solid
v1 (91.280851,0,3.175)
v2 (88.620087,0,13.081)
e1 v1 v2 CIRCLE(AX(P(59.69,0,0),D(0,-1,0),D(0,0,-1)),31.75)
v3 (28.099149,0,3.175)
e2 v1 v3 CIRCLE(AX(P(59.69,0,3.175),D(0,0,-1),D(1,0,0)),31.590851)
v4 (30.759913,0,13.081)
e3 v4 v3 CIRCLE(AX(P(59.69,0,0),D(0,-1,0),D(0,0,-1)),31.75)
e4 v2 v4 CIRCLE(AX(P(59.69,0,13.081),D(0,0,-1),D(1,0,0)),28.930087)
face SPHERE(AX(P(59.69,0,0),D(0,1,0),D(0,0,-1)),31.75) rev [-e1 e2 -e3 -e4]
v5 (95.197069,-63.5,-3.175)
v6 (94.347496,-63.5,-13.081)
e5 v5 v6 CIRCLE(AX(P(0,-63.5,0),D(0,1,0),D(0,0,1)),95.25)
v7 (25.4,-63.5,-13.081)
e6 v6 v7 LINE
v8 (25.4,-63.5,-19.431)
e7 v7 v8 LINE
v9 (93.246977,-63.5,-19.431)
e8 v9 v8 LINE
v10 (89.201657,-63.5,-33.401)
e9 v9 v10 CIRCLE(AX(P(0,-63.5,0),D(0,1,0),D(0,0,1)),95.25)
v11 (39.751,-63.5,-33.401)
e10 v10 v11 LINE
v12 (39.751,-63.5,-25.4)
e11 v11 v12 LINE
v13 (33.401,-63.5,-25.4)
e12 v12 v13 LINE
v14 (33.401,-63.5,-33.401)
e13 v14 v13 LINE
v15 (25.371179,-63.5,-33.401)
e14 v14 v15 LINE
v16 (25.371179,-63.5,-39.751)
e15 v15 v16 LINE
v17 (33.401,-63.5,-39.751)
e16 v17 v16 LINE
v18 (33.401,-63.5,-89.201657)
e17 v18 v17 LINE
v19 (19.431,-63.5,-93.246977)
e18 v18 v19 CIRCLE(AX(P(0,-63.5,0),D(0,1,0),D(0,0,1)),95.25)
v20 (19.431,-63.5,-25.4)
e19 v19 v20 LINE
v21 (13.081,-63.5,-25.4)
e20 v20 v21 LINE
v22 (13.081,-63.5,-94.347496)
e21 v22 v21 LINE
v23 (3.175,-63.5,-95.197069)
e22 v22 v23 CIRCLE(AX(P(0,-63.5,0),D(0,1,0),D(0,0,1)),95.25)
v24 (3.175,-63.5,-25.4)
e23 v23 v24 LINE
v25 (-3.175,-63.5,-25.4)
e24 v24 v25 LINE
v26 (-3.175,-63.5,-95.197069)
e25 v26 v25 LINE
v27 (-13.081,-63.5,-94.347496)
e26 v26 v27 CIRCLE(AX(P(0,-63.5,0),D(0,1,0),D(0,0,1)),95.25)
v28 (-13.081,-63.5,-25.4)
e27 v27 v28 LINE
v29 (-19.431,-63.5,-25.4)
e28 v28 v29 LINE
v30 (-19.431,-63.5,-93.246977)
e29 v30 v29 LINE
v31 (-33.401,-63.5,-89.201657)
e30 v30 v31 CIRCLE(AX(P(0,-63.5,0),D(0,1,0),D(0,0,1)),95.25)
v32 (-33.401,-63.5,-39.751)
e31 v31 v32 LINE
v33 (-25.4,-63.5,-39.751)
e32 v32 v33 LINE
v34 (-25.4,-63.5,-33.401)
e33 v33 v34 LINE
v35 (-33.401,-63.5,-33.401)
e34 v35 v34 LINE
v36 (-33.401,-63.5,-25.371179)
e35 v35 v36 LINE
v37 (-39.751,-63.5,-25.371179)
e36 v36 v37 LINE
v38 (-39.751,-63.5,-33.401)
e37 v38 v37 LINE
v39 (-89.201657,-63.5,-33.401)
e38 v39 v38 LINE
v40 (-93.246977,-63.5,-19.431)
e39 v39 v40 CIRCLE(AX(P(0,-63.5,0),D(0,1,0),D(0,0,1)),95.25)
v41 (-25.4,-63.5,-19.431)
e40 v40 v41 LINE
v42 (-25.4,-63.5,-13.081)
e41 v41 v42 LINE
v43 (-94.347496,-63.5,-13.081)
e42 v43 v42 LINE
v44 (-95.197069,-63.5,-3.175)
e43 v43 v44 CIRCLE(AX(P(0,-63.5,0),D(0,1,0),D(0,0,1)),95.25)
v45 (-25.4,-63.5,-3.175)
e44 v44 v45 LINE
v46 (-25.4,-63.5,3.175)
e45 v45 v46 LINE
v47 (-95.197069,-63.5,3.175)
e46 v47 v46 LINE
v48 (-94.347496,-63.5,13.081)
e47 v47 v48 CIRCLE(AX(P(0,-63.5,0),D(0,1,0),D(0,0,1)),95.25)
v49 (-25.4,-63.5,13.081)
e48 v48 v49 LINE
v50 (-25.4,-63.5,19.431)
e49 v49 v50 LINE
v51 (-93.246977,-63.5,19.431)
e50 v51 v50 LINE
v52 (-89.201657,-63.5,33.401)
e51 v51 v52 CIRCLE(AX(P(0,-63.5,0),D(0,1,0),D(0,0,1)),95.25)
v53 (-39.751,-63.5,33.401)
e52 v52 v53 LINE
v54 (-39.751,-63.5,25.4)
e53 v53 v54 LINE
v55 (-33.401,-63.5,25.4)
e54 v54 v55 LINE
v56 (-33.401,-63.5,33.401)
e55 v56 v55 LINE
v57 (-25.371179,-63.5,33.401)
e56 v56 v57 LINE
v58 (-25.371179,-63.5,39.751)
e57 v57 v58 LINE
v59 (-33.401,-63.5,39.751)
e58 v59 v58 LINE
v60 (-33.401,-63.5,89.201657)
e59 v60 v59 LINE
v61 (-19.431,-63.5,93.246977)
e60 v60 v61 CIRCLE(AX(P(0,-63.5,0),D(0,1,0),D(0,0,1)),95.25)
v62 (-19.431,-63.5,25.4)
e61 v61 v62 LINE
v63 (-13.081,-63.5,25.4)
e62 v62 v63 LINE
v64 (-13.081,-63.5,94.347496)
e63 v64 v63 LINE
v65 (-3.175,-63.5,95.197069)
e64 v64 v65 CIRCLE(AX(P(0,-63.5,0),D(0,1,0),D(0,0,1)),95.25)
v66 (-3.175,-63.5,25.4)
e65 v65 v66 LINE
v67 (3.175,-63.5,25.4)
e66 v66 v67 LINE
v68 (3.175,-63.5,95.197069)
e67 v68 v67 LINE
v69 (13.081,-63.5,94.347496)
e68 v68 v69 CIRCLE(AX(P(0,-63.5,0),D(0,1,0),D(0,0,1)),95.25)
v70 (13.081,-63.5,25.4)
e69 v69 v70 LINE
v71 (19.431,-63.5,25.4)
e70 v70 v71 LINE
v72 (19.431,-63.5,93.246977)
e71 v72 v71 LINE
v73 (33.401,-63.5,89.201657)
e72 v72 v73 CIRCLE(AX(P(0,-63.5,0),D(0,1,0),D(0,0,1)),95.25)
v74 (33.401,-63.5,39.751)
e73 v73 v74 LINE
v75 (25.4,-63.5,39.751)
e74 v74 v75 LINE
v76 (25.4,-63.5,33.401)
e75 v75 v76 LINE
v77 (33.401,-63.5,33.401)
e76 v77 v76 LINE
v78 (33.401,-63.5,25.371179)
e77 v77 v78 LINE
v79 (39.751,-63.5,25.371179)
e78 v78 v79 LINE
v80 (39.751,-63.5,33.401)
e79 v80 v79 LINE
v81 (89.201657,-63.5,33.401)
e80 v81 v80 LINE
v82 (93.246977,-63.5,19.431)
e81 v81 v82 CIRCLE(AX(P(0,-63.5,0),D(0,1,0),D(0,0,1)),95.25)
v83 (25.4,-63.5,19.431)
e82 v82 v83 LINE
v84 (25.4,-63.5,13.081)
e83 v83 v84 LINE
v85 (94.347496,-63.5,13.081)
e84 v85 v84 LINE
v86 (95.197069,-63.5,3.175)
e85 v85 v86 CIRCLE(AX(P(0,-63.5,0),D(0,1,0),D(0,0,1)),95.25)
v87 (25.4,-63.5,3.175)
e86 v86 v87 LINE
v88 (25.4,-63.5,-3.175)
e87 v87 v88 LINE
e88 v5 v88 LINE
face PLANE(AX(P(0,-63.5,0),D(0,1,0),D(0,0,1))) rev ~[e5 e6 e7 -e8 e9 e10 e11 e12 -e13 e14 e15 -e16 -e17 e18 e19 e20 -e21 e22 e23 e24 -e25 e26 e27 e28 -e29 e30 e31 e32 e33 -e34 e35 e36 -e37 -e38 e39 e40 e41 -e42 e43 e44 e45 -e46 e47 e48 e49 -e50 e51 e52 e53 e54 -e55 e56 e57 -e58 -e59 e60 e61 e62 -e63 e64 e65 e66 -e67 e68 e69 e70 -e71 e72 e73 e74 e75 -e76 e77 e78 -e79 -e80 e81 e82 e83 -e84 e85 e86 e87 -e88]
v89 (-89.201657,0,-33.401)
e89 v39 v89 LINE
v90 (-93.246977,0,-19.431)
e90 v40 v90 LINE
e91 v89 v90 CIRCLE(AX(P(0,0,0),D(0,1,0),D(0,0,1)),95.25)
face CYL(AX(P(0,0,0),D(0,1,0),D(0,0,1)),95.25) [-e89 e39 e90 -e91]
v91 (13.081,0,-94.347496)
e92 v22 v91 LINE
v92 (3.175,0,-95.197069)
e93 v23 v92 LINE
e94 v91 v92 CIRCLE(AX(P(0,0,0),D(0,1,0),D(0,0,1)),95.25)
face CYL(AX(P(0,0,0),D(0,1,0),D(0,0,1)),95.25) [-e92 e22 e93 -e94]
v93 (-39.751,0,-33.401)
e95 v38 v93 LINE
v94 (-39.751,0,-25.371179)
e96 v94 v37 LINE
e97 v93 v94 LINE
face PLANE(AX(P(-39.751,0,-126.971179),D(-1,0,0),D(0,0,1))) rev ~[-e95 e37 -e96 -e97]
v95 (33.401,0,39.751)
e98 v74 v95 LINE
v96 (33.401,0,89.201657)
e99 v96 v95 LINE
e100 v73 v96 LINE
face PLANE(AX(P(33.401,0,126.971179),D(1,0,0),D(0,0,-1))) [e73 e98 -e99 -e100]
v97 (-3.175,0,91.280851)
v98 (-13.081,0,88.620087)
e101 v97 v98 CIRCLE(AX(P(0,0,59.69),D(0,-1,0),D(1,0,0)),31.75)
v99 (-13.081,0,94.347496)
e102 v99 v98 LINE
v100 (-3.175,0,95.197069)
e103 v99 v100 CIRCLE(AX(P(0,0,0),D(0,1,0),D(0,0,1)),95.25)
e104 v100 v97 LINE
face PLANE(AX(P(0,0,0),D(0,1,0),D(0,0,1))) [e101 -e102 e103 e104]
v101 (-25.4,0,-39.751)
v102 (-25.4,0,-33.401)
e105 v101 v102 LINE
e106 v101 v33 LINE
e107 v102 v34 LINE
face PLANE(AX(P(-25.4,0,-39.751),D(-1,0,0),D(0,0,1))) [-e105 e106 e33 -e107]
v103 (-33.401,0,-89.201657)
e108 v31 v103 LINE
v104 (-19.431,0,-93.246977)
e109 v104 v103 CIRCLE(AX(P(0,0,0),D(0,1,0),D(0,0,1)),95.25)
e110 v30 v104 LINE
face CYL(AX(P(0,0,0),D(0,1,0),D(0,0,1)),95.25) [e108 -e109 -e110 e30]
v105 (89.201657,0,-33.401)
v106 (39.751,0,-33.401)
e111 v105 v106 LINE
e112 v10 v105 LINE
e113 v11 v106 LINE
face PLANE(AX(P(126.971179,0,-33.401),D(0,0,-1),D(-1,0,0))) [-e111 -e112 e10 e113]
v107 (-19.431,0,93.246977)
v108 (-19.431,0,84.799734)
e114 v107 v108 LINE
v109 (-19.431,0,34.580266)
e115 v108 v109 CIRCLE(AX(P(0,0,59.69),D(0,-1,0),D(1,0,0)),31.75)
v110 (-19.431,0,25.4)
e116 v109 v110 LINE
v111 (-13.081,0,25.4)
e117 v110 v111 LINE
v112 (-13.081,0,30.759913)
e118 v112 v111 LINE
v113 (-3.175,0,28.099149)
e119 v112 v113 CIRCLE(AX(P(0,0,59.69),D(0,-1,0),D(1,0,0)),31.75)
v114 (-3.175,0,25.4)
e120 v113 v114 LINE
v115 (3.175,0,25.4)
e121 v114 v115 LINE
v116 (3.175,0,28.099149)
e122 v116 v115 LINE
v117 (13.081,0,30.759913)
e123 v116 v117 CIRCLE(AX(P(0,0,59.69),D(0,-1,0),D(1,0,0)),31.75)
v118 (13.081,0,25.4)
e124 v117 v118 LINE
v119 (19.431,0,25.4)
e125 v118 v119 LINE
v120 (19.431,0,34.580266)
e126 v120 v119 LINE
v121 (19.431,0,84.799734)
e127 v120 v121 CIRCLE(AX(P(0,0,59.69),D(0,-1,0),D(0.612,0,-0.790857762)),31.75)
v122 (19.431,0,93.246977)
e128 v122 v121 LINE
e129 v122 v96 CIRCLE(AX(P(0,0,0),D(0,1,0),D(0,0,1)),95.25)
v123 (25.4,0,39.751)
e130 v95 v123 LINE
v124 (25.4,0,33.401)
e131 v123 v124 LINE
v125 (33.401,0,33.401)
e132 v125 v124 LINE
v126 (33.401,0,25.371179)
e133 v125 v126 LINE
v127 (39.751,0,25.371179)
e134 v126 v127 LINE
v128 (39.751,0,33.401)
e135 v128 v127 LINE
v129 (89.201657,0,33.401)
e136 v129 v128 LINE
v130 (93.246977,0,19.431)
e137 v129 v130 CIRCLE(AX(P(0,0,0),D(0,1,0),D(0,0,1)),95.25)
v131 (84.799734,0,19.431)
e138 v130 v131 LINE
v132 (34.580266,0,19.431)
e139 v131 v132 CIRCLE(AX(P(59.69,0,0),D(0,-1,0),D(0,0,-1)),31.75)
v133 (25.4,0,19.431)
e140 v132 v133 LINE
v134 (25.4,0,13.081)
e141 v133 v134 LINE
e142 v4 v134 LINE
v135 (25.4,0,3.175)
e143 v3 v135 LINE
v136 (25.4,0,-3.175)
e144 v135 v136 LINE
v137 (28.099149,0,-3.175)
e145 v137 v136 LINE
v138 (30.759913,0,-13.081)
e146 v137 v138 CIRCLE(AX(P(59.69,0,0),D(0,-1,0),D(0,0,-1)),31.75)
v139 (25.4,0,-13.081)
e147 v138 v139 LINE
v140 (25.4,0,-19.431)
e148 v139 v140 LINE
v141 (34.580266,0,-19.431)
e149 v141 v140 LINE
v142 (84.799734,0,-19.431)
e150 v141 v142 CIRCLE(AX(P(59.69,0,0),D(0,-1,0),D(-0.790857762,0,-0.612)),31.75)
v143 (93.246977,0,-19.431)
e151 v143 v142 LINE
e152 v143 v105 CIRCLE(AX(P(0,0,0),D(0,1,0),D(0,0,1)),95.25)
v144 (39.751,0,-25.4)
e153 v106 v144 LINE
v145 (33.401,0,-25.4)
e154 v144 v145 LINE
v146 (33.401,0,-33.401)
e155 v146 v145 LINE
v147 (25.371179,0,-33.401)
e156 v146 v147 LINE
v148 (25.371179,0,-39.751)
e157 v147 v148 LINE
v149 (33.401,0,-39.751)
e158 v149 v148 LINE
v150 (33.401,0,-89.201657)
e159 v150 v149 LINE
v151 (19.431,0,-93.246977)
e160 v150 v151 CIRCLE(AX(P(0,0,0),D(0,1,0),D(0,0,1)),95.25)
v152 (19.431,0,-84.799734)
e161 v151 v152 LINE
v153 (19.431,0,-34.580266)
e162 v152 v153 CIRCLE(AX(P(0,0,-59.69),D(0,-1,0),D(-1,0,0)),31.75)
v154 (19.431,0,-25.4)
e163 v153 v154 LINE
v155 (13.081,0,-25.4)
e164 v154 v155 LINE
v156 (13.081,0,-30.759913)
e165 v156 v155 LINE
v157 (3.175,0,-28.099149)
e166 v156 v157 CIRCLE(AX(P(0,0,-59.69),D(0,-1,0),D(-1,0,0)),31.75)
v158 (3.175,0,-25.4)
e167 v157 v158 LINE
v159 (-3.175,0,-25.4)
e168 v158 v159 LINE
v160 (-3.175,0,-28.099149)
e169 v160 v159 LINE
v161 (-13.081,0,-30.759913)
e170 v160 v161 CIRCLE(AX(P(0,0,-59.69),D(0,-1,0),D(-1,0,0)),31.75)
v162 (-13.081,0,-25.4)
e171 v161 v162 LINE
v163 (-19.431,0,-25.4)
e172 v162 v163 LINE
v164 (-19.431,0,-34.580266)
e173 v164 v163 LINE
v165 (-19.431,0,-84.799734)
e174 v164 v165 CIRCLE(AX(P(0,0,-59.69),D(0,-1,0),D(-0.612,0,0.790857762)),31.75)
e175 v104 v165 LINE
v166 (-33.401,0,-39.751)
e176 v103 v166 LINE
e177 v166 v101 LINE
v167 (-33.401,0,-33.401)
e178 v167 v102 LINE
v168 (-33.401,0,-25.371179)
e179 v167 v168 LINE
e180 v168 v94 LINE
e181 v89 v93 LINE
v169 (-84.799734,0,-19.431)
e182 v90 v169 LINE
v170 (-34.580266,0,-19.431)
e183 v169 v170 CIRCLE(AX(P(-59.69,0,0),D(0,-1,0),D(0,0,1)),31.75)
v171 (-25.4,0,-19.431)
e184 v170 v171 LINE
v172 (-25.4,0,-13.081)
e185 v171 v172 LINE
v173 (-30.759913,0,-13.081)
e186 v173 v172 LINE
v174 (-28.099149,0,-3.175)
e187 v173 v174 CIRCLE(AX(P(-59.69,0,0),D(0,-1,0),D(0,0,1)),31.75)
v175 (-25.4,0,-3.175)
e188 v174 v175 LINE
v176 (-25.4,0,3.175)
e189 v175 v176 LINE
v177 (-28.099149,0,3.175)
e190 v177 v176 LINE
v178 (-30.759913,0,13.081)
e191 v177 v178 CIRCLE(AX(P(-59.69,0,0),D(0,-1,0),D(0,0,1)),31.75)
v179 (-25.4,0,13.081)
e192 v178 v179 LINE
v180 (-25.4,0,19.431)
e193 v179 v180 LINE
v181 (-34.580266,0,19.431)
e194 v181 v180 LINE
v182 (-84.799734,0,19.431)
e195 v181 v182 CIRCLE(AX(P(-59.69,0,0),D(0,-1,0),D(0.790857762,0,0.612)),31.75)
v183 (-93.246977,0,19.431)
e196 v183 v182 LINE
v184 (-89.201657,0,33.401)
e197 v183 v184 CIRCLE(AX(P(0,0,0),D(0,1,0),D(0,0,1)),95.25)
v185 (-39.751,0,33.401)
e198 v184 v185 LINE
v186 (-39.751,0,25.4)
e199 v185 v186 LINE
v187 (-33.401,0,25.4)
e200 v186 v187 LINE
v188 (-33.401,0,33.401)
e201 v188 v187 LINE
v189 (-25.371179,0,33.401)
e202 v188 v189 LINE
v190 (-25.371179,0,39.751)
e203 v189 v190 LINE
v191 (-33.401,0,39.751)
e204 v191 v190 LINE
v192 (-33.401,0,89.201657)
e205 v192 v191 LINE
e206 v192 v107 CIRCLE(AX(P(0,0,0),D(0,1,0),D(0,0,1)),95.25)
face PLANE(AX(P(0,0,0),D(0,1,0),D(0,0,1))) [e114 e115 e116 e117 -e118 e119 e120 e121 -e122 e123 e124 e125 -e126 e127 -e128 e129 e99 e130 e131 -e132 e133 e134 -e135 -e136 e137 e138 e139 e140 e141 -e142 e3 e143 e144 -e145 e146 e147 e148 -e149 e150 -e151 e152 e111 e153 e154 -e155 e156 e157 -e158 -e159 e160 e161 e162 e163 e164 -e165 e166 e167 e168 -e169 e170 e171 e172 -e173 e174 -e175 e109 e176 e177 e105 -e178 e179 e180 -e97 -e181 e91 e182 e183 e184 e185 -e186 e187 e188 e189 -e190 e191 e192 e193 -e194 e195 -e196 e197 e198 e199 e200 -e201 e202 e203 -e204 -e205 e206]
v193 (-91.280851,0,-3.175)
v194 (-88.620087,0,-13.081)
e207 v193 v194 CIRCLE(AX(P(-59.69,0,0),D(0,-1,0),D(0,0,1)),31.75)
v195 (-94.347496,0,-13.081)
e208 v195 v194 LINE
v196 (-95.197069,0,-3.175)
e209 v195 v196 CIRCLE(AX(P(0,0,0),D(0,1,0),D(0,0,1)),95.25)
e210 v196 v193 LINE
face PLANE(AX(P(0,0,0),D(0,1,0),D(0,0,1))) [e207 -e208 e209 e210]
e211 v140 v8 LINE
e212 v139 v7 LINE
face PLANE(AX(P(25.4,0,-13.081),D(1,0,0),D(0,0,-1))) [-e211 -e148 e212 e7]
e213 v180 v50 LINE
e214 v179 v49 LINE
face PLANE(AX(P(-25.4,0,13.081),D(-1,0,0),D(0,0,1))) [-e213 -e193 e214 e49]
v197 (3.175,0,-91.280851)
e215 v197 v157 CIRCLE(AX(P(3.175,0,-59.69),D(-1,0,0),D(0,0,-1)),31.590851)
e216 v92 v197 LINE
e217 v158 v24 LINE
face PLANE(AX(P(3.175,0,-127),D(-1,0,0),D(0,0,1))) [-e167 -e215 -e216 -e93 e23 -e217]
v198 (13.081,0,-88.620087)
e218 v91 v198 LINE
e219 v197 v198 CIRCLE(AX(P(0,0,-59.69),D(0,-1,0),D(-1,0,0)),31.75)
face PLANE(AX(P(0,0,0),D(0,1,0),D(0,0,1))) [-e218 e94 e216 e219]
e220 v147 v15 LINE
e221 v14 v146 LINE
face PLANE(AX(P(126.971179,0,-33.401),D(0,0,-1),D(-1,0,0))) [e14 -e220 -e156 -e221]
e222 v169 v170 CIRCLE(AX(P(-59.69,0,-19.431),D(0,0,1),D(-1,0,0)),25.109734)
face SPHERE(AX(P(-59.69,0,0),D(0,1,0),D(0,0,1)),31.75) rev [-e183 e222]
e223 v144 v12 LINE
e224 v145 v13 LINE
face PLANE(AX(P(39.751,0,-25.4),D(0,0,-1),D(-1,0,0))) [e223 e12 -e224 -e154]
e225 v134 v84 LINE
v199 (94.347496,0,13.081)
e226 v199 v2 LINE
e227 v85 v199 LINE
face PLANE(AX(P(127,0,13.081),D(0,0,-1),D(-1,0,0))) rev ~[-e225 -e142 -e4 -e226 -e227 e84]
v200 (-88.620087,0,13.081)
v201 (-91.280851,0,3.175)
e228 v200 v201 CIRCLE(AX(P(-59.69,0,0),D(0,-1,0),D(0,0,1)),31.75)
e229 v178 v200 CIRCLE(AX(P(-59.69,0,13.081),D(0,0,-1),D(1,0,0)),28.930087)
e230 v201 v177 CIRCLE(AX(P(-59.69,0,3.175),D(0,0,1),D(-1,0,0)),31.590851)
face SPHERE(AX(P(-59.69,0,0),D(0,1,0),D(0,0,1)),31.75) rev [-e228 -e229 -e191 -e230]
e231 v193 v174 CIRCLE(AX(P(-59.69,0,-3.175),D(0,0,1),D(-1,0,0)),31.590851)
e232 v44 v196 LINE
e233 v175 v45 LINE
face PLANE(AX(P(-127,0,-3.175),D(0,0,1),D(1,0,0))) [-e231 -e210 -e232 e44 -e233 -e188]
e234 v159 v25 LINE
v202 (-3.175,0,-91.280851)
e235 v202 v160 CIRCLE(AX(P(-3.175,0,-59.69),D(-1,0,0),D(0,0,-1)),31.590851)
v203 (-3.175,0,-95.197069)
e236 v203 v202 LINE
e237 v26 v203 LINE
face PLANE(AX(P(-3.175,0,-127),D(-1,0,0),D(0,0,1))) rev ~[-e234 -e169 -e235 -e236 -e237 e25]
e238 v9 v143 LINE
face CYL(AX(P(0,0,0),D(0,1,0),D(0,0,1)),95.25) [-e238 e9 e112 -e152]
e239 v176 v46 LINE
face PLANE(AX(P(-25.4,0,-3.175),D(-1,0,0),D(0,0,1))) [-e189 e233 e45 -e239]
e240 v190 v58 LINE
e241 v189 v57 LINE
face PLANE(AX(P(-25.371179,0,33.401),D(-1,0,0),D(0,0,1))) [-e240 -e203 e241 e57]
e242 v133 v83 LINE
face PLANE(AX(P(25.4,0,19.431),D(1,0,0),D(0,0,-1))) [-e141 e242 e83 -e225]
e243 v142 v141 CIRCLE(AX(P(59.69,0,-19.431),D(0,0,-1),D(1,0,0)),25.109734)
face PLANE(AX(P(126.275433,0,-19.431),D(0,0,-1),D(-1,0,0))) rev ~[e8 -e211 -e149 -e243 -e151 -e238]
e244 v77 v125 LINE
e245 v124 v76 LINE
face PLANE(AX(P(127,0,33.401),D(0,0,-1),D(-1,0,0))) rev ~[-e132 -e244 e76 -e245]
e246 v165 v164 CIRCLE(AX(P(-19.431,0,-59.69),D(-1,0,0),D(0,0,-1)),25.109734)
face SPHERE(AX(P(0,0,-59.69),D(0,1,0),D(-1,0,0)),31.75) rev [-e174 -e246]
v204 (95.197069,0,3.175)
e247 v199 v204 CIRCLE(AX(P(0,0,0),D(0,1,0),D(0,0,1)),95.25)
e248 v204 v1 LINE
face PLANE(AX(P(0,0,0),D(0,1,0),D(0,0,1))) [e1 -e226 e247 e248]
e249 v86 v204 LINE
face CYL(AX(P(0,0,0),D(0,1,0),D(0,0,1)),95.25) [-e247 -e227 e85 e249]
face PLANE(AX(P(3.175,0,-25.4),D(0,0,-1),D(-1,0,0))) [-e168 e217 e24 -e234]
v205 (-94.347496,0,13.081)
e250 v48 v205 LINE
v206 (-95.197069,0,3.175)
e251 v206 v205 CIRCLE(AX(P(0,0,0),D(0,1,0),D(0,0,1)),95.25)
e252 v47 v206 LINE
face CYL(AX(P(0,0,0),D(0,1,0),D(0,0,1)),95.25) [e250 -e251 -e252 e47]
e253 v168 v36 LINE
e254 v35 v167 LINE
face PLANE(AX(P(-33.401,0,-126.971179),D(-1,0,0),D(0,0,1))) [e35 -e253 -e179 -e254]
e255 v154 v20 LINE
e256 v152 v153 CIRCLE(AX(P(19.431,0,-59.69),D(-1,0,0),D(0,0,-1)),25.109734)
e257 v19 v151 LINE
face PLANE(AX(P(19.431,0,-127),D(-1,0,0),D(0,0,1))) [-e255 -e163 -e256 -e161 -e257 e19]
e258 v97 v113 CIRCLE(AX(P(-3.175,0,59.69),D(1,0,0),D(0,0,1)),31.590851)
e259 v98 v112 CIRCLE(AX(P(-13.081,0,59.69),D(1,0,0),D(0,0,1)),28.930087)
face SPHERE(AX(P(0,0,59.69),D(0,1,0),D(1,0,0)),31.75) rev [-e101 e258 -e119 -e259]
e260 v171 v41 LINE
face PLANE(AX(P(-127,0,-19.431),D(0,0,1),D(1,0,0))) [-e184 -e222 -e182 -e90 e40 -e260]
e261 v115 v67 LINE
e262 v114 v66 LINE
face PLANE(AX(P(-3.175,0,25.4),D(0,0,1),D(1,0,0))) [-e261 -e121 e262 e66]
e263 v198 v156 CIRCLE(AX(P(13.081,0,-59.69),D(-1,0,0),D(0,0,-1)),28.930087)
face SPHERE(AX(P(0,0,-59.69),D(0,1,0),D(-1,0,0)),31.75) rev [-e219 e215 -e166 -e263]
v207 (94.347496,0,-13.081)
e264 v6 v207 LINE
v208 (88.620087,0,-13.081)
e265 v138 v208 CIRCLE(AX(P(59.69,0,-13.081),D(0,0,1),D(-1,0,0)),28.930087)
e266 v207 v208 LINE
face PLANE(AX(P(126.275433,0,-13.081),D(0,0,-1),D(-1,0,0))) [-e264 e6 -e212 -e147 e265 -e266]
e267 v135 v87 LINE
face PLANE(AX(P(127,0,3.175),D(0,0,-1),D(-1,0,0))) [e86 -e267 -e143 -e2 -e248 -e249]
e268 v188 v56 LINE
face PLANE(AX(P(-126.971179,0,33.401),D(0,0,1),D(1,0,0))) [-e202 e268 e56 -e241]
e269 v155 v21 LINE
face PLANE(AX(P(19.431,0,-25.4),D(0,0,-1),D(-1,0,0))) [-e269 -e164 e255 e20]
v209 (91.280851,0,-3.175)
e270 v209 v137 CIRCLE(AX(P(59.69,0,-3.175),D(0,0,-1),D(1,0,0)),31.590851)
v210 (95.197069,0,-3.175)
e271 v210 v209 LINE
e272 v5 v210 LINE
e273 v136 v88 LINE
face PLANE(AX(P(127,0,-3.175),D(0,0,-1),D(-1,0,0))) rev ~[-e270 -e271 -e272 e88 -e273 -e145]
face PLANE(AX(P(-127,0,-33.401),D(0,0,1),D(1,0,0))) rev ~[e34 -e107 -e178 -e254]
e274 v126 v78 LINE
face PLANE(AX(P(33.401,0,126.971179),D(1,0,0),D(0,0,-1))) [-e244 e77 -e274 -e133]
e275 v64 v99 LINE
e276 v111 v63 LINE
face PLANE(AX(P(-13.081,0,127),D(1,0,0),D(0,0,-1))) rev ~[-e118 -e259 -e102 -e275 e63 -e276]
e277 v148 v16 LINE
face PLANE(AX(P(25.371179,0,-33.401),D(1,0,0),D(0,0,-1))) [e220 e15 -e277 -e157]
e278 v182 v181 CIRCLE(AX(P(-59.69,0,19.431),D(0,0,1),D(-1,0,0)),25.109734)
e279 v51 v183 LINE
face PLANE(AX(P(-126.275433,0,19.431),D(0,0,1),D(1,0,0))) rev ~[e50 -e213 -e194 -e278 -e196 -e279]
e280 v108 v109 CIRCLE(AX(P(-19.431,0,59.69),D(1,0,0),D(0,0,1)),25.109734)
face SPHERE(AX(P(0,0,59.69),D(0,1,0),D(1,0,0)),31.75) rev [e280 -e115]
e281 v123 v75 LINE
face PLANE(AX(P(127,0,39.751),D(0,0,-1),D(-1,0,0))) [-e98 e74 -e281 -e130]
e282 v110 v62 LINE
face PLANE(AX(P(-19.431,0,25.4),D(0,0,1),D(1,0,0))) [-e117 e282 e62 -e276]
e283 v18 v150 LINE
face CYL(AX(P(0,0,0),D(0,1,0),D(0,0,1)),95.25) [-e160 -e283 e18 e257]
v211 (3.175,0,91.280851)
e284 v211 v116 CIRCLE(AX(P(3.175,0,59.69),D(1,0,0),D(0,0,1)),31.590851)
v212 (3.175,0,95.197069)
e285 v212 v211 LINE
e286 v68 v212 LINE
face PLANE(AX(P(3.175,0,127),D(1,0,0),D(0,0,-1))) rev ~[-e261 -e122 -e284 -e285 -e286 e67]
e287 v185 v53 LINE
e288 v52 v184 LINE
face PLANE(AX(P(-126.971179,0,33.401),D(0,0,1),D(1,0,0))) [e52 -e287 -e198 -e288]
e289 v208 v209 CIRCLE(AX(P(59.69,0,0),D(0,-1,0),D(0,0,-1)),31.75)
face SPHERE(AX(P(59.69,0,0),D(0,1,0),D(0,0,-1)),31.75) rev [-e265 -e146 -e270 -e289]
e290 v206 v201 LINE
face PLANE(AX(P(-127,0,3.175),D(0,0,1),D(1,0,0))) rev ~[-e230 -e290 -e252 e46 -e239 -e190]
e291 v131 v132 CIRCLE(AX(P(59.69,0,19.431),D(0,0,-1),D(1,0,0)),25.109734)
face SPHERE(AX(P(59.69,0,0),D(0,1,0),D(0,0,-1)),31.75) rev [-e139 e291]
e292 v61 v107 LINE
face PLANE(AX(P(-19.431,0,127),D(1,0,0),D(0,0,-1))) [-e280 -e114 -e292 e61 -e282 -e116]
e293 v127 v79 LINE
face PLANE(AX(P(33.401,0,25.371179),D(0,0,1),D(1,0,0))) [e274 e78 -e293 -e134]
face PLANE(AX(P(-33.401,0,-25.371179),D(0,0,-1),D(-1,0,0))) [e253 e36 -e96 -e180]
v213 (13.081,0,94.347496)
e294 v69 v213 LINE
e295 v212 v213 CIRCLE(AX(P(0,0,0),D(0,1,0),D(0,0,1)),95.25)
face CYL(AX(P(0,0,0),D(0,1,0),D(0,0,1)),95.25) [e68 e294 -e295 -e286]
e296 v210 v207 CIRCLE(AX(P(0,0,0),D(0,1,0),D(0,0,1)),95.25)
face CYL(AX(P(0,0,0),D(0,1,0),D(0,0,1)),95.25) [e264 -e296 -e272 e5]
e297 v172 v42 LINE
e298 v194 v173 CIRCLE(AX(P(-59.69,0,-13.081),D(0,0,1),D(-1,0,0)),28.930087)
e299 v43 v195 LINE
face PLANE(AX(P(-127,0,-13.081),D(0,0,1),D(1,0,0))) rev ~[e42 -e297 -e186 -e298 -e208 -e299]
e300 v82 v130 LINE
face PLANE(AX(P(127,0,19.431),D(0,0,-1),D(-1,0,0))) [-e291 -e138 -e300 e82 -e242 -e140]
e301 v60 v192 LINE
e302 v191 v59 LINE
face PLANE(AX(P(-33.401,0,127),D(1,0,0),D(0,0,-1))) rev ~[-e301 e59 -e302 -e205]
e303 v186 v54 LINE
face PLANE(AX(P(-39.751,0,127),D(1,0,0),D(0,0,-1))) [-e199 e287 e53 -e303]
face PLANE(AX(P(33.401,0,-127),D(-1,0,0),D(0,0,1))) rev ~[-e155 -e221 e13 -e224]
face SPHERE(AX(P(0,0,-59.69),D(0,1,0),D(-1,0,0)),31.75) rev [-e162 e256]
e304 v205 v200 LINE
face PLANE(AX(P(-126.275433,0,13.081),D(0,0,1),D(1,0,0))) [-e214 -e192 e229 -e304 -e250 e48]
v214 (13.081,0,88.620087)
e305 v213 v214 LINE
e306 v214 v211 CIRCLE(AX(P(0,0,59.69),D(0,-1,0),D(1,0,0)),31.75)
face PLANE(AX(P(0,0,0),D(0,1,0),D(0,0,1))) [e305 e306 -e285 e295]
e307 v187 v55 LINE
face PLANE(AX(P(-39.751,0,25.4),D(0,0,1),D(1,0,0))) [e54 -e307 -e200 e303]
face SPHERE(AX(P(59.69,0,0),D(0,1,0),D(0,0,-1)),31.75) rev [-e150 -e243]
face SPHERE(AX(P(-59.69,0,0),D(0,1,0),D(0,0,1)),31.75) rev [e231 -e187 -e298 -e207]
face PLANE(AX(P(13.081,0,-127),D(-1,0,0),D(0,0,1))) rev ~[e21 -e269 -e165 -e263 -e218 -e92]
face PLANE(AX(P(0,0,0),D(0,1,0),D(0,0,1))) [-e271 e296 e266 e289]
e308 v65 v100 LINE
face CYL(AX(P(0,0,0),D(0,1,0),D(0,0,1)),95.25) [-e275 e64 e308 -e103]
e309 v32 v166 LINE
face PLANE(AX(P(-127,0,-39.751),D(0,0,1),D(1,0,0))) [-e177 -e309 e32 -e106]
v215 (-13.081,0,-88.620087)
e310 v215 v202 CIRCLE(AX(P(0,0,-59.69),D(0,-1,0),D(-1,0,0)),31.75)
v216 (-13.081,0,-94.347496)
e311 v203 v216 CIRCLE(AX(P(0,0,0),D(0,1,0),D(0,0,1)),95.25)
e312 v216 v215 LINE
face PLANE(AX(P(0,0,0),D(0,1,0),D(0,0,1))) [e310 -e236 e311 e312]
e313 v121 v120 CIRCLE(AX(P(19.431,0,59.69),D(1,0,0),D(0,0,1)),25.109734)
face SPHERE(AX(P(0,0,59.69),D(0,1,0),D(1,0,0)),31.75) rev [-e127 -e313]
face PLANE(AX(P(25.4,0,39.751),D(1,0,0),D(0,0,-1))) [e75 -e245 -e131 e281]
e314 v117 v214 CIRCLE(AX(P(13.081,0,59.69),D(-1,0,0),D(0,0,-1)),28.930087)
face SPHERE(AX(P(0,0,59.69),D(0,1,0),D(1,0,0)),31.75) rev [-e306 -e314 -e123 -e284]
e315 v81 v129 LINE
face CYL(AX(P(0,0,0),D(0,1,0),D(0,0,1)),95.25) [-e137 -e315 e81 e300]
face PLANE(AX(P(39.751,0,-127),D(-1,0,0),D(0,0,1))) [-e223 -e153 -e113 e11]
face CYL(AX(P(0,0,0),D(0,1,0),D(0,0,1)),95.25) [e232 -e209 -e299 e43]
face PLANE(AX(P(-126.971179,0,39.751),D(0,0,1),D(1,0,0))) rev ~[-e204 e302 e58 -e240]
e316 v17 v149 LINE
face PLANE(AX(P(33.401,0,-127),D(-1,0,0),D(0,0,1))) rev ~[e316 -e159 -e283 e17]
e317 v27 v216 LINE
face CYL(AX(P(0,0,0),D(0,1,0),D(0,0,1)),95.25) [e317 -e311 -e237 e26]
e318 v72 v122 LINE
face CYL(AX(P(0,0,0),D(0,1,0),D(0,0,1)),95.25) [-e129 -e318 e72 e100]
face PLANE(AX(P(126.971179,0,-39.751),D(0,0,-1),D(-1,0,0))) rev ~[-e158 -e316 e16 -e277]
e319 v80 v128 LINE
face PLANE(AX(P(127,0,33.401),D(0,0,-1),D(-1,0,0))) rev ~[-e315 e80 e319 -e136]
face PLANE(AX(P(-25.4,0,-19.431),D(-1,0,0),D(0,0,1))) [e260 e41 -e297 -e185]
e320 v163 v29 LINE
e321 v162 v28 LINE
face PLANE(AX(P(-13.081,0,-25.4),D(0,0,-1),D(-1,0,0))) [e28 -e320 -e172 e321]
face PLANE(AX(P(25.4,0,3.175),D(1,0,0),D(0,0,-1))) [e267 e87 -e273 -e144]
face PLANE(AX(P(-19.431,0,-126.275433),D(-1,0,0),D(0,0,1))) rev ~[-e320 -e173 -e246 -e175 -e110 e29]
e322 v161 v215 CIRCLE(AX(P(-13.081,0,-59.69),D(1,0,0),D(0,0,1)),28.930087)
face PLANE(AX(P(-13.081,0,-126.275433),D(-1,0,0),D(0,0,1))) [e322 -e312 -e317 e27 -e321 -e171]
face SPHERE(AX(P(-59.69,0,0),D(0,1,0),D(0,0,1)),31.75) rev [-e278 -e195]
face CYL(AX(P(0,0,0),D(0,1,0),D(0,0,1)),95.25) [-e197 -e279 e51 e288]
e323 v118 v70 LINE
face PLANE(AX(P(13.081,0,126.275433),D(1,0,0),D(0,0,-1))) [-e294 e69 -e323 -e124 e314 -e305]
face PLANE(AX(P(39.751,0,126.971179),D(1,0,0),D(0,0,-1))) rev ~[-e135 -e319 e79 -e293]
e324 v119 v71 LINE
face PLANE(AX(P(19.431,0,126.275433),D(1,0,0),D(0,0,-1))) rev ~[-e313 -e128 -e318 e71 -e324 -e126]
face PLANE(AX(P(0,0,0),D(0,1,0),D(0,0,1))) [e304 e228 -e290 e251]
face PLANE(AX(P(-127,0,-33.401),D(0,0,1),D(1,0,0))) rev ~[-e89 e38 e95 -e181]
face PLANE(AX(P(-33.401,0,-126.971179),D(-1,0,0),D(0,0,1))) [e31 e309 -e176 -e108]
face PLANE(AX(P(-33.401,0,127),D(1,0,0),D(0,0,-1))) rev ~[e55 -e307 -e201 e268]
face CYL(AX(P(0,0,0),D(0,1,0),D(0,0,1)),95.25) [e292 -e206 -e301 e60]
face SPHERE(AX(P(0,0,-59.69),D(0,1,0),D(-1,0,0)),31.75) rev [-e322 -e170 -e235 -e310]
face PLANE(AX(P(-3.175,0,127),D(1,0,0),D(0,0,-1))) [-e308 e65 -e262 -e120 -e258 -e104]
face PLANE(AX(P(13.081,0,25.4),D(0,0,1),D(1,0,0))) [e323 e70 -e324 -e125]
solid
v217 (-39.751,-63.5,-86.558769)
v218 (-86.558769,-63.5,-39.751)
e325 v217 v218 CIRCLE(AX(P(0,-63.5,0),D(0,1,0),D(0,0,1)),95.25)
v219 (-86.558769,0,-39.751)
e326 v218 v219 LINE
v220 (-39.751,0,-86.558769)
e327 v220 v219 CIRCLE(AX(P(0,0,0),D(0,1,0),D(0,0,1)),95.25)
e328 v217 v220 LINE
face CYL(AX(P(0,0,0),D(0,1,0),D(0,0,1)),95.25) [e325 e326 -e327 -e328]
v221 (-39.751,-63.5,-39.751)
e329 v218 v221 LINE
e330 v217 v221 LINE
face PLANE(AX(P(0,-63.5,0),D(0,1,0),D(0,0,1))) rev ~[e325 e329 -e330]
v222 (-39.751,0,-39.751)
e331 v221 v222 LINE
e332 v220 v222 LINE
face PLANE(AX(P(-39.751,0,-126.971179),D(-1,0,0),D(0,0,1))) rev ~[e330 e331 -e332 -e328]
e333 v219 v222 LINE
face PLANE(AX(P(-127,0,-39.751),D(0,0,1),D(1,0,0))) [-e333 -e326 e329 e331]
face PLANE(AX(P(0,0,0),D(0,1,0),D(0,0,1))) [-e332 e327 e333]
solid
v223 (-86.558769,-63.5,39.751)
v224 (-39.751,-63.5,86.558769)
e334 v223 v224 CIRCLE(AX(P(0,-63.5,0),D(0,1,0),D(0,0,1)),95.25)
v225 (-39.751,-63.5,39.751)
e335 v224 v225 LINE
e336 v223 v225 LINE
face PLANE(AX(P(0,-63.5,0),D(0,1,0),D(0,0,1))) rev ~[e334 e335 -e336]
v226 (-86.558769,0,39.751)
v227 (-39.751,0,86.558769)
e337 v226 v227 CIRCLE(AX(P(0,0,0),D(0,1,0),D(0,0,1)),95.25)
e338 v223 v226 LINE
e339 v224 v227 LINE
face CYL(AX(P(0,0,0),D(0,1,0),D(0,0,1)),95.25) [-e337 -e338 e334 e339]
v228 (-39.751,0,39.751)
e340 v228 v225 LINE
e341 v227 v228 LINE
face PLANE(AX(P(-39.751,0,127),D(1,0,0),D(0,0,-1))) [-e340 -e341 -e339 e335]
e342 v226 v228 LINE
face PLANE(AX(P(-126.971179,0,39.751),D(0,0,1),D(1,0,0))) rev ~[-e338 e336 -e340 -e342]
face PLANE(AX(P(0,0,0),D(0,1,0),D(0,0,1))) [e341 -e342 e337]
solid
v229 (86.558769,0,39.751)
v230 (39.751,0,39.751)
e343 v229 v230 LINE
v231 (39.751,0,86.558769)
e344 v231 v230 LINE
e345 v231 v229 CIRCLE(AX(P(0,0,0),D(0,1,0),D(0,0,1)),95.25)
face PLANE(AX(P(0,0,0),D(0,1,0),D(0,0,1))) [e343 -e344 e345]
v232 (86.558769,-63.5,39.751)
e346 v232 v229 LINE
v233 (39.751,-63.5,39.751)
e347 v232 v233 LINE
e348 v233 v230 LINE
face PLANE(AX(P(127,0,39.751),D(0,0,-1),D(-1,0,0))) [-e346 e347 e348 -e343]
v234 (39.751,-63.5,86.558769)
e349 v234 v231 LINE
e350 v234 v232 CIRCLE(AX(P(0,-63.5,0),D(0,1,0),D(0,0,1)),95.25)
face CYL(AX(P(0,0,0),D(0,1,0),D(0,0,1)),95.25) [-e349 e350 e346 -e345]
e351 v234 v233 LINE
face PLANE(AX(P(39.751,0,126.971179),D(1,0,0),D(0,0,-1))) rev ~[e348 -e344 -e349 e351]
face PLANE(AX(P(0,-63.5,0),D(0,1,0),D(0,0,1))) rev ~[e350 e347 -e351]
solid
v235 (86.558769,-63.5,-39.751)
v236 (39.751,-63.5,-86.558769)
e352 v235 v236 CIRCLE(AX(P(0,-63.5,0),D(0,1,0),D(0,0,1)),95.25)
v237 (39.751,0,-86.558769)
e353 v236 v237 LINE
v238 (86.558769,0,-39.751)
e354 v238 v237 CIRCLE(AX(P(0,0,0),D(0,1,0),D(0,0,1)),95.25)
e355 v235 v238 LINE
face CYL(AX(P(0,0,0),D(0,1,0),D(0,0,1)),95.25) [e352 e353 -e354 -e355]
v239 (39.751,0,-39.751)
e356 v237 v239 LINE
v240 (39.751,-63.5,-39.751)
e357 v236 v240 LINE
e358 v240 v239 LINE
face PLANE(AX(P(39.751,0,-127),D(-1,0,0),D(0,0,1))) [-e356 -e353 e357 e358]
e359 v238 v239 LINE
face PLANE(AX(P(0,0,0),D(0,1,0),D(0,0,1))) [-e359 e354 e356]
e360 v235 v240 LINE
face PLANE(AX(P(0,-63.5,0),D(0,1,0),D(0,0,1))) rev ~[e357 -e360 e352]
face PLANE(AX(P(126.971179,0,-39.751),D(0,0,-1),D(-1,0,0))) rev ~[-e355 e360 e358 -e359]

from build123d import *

# Parameters (mm, degrees)
SKETCH1_R           = 95.25
BOSS_EXTRUDE1_DEPTH = 63.5
SKETCH7_W           = 6.35
SKETCH7_H           = 101.6
SKETCH7_H_2         = 100.875432805
CUT_EXTRUDE1_DEPTH  = 149.920700374
CIRPATTERN1_COUNT   = 4


with BuildPart() as part:
    # Sketch1 → Boss-Extrude1 (new body)
    with BuildSketch(Plane(origin=(0, 0, 0), x_dir=(1, 0, 0), z_dir=(0, 1, 0))):
        with Locations(Location((0, 0, 0), (0, 0, 270))):
            Circle(SKETCH1_R)
    extrude(amount=-BOSS_EXTRUDE1_DEPTH)

    # Sketch3 → Cut-Revolve3 (revolve, cut)
    with BuildSketch(Plane.XY.offset(59.69)):
        with BuildLine():
            Line((0, 0), (0, -31.75))
            ThreePointArc((0, -31.75), (22.450640303, -22.450640303), (31.75, 0))
            Line((31.75, 0), (0, 0))
        make_face()
    cut_revolve3 = revolve(axis=Axis((0, 0, 59.69), (0, -1, 0)), mode=Mode.SUBTRACT)

    # Sketch7 → Cut-Extrude1 (cut, through all)
    with BuildSketch(Plane(origin=(0, 0, 0), x_dir=(1, 0, 0), z_dir=(0, 1, 0))):
        with Locations((-16.256, -76.2)):
            Rectangle(SKETCH7_W, SKETCH7_H)
        with Locations((0, -76.2)):
            Rectangle(SKETCH7_W, SKETCH7_H)
        with Locations((16.256, -75.837716403)):
            Rectangle(SKETCH7_W, SKETCH7_H_2)
        with Locations((36.576, -76.171178844)):
            Rectangle(SKETCH7_W, SKETCH7_H)
        with Locations((-36.576, -76.2)):
            Rectangle(SKETCH7_W, SKETCH7_H)
    cut_extrude1 = extrude(amount=-CUT_EXTRUDE1_DEPTH, mode=Mode.SUBTRACT)

    # CirPattern1: Cut-Revolve3, Cut-Extrude1 ×4 about axis
    cirpattern1_axis = Axis((0, 0, 0), (0, 1, 0))
    add([cut_revolve3.rotate(cirpattern1_axis, i * 360 / CIRPATTERN1_COUNT) for i in range(1, CIRPATTERN1_COUNT)], mode=Mode.SUBTRACT)
    add([cut_extrude1.rotate(cirpattern1_axis, i * 360 / CIRPATTERN1_COUNT) for i in range(1, CIRPATTERN1_COUNT)], mode=Mode.SUBTRACT)


solid = part.part
